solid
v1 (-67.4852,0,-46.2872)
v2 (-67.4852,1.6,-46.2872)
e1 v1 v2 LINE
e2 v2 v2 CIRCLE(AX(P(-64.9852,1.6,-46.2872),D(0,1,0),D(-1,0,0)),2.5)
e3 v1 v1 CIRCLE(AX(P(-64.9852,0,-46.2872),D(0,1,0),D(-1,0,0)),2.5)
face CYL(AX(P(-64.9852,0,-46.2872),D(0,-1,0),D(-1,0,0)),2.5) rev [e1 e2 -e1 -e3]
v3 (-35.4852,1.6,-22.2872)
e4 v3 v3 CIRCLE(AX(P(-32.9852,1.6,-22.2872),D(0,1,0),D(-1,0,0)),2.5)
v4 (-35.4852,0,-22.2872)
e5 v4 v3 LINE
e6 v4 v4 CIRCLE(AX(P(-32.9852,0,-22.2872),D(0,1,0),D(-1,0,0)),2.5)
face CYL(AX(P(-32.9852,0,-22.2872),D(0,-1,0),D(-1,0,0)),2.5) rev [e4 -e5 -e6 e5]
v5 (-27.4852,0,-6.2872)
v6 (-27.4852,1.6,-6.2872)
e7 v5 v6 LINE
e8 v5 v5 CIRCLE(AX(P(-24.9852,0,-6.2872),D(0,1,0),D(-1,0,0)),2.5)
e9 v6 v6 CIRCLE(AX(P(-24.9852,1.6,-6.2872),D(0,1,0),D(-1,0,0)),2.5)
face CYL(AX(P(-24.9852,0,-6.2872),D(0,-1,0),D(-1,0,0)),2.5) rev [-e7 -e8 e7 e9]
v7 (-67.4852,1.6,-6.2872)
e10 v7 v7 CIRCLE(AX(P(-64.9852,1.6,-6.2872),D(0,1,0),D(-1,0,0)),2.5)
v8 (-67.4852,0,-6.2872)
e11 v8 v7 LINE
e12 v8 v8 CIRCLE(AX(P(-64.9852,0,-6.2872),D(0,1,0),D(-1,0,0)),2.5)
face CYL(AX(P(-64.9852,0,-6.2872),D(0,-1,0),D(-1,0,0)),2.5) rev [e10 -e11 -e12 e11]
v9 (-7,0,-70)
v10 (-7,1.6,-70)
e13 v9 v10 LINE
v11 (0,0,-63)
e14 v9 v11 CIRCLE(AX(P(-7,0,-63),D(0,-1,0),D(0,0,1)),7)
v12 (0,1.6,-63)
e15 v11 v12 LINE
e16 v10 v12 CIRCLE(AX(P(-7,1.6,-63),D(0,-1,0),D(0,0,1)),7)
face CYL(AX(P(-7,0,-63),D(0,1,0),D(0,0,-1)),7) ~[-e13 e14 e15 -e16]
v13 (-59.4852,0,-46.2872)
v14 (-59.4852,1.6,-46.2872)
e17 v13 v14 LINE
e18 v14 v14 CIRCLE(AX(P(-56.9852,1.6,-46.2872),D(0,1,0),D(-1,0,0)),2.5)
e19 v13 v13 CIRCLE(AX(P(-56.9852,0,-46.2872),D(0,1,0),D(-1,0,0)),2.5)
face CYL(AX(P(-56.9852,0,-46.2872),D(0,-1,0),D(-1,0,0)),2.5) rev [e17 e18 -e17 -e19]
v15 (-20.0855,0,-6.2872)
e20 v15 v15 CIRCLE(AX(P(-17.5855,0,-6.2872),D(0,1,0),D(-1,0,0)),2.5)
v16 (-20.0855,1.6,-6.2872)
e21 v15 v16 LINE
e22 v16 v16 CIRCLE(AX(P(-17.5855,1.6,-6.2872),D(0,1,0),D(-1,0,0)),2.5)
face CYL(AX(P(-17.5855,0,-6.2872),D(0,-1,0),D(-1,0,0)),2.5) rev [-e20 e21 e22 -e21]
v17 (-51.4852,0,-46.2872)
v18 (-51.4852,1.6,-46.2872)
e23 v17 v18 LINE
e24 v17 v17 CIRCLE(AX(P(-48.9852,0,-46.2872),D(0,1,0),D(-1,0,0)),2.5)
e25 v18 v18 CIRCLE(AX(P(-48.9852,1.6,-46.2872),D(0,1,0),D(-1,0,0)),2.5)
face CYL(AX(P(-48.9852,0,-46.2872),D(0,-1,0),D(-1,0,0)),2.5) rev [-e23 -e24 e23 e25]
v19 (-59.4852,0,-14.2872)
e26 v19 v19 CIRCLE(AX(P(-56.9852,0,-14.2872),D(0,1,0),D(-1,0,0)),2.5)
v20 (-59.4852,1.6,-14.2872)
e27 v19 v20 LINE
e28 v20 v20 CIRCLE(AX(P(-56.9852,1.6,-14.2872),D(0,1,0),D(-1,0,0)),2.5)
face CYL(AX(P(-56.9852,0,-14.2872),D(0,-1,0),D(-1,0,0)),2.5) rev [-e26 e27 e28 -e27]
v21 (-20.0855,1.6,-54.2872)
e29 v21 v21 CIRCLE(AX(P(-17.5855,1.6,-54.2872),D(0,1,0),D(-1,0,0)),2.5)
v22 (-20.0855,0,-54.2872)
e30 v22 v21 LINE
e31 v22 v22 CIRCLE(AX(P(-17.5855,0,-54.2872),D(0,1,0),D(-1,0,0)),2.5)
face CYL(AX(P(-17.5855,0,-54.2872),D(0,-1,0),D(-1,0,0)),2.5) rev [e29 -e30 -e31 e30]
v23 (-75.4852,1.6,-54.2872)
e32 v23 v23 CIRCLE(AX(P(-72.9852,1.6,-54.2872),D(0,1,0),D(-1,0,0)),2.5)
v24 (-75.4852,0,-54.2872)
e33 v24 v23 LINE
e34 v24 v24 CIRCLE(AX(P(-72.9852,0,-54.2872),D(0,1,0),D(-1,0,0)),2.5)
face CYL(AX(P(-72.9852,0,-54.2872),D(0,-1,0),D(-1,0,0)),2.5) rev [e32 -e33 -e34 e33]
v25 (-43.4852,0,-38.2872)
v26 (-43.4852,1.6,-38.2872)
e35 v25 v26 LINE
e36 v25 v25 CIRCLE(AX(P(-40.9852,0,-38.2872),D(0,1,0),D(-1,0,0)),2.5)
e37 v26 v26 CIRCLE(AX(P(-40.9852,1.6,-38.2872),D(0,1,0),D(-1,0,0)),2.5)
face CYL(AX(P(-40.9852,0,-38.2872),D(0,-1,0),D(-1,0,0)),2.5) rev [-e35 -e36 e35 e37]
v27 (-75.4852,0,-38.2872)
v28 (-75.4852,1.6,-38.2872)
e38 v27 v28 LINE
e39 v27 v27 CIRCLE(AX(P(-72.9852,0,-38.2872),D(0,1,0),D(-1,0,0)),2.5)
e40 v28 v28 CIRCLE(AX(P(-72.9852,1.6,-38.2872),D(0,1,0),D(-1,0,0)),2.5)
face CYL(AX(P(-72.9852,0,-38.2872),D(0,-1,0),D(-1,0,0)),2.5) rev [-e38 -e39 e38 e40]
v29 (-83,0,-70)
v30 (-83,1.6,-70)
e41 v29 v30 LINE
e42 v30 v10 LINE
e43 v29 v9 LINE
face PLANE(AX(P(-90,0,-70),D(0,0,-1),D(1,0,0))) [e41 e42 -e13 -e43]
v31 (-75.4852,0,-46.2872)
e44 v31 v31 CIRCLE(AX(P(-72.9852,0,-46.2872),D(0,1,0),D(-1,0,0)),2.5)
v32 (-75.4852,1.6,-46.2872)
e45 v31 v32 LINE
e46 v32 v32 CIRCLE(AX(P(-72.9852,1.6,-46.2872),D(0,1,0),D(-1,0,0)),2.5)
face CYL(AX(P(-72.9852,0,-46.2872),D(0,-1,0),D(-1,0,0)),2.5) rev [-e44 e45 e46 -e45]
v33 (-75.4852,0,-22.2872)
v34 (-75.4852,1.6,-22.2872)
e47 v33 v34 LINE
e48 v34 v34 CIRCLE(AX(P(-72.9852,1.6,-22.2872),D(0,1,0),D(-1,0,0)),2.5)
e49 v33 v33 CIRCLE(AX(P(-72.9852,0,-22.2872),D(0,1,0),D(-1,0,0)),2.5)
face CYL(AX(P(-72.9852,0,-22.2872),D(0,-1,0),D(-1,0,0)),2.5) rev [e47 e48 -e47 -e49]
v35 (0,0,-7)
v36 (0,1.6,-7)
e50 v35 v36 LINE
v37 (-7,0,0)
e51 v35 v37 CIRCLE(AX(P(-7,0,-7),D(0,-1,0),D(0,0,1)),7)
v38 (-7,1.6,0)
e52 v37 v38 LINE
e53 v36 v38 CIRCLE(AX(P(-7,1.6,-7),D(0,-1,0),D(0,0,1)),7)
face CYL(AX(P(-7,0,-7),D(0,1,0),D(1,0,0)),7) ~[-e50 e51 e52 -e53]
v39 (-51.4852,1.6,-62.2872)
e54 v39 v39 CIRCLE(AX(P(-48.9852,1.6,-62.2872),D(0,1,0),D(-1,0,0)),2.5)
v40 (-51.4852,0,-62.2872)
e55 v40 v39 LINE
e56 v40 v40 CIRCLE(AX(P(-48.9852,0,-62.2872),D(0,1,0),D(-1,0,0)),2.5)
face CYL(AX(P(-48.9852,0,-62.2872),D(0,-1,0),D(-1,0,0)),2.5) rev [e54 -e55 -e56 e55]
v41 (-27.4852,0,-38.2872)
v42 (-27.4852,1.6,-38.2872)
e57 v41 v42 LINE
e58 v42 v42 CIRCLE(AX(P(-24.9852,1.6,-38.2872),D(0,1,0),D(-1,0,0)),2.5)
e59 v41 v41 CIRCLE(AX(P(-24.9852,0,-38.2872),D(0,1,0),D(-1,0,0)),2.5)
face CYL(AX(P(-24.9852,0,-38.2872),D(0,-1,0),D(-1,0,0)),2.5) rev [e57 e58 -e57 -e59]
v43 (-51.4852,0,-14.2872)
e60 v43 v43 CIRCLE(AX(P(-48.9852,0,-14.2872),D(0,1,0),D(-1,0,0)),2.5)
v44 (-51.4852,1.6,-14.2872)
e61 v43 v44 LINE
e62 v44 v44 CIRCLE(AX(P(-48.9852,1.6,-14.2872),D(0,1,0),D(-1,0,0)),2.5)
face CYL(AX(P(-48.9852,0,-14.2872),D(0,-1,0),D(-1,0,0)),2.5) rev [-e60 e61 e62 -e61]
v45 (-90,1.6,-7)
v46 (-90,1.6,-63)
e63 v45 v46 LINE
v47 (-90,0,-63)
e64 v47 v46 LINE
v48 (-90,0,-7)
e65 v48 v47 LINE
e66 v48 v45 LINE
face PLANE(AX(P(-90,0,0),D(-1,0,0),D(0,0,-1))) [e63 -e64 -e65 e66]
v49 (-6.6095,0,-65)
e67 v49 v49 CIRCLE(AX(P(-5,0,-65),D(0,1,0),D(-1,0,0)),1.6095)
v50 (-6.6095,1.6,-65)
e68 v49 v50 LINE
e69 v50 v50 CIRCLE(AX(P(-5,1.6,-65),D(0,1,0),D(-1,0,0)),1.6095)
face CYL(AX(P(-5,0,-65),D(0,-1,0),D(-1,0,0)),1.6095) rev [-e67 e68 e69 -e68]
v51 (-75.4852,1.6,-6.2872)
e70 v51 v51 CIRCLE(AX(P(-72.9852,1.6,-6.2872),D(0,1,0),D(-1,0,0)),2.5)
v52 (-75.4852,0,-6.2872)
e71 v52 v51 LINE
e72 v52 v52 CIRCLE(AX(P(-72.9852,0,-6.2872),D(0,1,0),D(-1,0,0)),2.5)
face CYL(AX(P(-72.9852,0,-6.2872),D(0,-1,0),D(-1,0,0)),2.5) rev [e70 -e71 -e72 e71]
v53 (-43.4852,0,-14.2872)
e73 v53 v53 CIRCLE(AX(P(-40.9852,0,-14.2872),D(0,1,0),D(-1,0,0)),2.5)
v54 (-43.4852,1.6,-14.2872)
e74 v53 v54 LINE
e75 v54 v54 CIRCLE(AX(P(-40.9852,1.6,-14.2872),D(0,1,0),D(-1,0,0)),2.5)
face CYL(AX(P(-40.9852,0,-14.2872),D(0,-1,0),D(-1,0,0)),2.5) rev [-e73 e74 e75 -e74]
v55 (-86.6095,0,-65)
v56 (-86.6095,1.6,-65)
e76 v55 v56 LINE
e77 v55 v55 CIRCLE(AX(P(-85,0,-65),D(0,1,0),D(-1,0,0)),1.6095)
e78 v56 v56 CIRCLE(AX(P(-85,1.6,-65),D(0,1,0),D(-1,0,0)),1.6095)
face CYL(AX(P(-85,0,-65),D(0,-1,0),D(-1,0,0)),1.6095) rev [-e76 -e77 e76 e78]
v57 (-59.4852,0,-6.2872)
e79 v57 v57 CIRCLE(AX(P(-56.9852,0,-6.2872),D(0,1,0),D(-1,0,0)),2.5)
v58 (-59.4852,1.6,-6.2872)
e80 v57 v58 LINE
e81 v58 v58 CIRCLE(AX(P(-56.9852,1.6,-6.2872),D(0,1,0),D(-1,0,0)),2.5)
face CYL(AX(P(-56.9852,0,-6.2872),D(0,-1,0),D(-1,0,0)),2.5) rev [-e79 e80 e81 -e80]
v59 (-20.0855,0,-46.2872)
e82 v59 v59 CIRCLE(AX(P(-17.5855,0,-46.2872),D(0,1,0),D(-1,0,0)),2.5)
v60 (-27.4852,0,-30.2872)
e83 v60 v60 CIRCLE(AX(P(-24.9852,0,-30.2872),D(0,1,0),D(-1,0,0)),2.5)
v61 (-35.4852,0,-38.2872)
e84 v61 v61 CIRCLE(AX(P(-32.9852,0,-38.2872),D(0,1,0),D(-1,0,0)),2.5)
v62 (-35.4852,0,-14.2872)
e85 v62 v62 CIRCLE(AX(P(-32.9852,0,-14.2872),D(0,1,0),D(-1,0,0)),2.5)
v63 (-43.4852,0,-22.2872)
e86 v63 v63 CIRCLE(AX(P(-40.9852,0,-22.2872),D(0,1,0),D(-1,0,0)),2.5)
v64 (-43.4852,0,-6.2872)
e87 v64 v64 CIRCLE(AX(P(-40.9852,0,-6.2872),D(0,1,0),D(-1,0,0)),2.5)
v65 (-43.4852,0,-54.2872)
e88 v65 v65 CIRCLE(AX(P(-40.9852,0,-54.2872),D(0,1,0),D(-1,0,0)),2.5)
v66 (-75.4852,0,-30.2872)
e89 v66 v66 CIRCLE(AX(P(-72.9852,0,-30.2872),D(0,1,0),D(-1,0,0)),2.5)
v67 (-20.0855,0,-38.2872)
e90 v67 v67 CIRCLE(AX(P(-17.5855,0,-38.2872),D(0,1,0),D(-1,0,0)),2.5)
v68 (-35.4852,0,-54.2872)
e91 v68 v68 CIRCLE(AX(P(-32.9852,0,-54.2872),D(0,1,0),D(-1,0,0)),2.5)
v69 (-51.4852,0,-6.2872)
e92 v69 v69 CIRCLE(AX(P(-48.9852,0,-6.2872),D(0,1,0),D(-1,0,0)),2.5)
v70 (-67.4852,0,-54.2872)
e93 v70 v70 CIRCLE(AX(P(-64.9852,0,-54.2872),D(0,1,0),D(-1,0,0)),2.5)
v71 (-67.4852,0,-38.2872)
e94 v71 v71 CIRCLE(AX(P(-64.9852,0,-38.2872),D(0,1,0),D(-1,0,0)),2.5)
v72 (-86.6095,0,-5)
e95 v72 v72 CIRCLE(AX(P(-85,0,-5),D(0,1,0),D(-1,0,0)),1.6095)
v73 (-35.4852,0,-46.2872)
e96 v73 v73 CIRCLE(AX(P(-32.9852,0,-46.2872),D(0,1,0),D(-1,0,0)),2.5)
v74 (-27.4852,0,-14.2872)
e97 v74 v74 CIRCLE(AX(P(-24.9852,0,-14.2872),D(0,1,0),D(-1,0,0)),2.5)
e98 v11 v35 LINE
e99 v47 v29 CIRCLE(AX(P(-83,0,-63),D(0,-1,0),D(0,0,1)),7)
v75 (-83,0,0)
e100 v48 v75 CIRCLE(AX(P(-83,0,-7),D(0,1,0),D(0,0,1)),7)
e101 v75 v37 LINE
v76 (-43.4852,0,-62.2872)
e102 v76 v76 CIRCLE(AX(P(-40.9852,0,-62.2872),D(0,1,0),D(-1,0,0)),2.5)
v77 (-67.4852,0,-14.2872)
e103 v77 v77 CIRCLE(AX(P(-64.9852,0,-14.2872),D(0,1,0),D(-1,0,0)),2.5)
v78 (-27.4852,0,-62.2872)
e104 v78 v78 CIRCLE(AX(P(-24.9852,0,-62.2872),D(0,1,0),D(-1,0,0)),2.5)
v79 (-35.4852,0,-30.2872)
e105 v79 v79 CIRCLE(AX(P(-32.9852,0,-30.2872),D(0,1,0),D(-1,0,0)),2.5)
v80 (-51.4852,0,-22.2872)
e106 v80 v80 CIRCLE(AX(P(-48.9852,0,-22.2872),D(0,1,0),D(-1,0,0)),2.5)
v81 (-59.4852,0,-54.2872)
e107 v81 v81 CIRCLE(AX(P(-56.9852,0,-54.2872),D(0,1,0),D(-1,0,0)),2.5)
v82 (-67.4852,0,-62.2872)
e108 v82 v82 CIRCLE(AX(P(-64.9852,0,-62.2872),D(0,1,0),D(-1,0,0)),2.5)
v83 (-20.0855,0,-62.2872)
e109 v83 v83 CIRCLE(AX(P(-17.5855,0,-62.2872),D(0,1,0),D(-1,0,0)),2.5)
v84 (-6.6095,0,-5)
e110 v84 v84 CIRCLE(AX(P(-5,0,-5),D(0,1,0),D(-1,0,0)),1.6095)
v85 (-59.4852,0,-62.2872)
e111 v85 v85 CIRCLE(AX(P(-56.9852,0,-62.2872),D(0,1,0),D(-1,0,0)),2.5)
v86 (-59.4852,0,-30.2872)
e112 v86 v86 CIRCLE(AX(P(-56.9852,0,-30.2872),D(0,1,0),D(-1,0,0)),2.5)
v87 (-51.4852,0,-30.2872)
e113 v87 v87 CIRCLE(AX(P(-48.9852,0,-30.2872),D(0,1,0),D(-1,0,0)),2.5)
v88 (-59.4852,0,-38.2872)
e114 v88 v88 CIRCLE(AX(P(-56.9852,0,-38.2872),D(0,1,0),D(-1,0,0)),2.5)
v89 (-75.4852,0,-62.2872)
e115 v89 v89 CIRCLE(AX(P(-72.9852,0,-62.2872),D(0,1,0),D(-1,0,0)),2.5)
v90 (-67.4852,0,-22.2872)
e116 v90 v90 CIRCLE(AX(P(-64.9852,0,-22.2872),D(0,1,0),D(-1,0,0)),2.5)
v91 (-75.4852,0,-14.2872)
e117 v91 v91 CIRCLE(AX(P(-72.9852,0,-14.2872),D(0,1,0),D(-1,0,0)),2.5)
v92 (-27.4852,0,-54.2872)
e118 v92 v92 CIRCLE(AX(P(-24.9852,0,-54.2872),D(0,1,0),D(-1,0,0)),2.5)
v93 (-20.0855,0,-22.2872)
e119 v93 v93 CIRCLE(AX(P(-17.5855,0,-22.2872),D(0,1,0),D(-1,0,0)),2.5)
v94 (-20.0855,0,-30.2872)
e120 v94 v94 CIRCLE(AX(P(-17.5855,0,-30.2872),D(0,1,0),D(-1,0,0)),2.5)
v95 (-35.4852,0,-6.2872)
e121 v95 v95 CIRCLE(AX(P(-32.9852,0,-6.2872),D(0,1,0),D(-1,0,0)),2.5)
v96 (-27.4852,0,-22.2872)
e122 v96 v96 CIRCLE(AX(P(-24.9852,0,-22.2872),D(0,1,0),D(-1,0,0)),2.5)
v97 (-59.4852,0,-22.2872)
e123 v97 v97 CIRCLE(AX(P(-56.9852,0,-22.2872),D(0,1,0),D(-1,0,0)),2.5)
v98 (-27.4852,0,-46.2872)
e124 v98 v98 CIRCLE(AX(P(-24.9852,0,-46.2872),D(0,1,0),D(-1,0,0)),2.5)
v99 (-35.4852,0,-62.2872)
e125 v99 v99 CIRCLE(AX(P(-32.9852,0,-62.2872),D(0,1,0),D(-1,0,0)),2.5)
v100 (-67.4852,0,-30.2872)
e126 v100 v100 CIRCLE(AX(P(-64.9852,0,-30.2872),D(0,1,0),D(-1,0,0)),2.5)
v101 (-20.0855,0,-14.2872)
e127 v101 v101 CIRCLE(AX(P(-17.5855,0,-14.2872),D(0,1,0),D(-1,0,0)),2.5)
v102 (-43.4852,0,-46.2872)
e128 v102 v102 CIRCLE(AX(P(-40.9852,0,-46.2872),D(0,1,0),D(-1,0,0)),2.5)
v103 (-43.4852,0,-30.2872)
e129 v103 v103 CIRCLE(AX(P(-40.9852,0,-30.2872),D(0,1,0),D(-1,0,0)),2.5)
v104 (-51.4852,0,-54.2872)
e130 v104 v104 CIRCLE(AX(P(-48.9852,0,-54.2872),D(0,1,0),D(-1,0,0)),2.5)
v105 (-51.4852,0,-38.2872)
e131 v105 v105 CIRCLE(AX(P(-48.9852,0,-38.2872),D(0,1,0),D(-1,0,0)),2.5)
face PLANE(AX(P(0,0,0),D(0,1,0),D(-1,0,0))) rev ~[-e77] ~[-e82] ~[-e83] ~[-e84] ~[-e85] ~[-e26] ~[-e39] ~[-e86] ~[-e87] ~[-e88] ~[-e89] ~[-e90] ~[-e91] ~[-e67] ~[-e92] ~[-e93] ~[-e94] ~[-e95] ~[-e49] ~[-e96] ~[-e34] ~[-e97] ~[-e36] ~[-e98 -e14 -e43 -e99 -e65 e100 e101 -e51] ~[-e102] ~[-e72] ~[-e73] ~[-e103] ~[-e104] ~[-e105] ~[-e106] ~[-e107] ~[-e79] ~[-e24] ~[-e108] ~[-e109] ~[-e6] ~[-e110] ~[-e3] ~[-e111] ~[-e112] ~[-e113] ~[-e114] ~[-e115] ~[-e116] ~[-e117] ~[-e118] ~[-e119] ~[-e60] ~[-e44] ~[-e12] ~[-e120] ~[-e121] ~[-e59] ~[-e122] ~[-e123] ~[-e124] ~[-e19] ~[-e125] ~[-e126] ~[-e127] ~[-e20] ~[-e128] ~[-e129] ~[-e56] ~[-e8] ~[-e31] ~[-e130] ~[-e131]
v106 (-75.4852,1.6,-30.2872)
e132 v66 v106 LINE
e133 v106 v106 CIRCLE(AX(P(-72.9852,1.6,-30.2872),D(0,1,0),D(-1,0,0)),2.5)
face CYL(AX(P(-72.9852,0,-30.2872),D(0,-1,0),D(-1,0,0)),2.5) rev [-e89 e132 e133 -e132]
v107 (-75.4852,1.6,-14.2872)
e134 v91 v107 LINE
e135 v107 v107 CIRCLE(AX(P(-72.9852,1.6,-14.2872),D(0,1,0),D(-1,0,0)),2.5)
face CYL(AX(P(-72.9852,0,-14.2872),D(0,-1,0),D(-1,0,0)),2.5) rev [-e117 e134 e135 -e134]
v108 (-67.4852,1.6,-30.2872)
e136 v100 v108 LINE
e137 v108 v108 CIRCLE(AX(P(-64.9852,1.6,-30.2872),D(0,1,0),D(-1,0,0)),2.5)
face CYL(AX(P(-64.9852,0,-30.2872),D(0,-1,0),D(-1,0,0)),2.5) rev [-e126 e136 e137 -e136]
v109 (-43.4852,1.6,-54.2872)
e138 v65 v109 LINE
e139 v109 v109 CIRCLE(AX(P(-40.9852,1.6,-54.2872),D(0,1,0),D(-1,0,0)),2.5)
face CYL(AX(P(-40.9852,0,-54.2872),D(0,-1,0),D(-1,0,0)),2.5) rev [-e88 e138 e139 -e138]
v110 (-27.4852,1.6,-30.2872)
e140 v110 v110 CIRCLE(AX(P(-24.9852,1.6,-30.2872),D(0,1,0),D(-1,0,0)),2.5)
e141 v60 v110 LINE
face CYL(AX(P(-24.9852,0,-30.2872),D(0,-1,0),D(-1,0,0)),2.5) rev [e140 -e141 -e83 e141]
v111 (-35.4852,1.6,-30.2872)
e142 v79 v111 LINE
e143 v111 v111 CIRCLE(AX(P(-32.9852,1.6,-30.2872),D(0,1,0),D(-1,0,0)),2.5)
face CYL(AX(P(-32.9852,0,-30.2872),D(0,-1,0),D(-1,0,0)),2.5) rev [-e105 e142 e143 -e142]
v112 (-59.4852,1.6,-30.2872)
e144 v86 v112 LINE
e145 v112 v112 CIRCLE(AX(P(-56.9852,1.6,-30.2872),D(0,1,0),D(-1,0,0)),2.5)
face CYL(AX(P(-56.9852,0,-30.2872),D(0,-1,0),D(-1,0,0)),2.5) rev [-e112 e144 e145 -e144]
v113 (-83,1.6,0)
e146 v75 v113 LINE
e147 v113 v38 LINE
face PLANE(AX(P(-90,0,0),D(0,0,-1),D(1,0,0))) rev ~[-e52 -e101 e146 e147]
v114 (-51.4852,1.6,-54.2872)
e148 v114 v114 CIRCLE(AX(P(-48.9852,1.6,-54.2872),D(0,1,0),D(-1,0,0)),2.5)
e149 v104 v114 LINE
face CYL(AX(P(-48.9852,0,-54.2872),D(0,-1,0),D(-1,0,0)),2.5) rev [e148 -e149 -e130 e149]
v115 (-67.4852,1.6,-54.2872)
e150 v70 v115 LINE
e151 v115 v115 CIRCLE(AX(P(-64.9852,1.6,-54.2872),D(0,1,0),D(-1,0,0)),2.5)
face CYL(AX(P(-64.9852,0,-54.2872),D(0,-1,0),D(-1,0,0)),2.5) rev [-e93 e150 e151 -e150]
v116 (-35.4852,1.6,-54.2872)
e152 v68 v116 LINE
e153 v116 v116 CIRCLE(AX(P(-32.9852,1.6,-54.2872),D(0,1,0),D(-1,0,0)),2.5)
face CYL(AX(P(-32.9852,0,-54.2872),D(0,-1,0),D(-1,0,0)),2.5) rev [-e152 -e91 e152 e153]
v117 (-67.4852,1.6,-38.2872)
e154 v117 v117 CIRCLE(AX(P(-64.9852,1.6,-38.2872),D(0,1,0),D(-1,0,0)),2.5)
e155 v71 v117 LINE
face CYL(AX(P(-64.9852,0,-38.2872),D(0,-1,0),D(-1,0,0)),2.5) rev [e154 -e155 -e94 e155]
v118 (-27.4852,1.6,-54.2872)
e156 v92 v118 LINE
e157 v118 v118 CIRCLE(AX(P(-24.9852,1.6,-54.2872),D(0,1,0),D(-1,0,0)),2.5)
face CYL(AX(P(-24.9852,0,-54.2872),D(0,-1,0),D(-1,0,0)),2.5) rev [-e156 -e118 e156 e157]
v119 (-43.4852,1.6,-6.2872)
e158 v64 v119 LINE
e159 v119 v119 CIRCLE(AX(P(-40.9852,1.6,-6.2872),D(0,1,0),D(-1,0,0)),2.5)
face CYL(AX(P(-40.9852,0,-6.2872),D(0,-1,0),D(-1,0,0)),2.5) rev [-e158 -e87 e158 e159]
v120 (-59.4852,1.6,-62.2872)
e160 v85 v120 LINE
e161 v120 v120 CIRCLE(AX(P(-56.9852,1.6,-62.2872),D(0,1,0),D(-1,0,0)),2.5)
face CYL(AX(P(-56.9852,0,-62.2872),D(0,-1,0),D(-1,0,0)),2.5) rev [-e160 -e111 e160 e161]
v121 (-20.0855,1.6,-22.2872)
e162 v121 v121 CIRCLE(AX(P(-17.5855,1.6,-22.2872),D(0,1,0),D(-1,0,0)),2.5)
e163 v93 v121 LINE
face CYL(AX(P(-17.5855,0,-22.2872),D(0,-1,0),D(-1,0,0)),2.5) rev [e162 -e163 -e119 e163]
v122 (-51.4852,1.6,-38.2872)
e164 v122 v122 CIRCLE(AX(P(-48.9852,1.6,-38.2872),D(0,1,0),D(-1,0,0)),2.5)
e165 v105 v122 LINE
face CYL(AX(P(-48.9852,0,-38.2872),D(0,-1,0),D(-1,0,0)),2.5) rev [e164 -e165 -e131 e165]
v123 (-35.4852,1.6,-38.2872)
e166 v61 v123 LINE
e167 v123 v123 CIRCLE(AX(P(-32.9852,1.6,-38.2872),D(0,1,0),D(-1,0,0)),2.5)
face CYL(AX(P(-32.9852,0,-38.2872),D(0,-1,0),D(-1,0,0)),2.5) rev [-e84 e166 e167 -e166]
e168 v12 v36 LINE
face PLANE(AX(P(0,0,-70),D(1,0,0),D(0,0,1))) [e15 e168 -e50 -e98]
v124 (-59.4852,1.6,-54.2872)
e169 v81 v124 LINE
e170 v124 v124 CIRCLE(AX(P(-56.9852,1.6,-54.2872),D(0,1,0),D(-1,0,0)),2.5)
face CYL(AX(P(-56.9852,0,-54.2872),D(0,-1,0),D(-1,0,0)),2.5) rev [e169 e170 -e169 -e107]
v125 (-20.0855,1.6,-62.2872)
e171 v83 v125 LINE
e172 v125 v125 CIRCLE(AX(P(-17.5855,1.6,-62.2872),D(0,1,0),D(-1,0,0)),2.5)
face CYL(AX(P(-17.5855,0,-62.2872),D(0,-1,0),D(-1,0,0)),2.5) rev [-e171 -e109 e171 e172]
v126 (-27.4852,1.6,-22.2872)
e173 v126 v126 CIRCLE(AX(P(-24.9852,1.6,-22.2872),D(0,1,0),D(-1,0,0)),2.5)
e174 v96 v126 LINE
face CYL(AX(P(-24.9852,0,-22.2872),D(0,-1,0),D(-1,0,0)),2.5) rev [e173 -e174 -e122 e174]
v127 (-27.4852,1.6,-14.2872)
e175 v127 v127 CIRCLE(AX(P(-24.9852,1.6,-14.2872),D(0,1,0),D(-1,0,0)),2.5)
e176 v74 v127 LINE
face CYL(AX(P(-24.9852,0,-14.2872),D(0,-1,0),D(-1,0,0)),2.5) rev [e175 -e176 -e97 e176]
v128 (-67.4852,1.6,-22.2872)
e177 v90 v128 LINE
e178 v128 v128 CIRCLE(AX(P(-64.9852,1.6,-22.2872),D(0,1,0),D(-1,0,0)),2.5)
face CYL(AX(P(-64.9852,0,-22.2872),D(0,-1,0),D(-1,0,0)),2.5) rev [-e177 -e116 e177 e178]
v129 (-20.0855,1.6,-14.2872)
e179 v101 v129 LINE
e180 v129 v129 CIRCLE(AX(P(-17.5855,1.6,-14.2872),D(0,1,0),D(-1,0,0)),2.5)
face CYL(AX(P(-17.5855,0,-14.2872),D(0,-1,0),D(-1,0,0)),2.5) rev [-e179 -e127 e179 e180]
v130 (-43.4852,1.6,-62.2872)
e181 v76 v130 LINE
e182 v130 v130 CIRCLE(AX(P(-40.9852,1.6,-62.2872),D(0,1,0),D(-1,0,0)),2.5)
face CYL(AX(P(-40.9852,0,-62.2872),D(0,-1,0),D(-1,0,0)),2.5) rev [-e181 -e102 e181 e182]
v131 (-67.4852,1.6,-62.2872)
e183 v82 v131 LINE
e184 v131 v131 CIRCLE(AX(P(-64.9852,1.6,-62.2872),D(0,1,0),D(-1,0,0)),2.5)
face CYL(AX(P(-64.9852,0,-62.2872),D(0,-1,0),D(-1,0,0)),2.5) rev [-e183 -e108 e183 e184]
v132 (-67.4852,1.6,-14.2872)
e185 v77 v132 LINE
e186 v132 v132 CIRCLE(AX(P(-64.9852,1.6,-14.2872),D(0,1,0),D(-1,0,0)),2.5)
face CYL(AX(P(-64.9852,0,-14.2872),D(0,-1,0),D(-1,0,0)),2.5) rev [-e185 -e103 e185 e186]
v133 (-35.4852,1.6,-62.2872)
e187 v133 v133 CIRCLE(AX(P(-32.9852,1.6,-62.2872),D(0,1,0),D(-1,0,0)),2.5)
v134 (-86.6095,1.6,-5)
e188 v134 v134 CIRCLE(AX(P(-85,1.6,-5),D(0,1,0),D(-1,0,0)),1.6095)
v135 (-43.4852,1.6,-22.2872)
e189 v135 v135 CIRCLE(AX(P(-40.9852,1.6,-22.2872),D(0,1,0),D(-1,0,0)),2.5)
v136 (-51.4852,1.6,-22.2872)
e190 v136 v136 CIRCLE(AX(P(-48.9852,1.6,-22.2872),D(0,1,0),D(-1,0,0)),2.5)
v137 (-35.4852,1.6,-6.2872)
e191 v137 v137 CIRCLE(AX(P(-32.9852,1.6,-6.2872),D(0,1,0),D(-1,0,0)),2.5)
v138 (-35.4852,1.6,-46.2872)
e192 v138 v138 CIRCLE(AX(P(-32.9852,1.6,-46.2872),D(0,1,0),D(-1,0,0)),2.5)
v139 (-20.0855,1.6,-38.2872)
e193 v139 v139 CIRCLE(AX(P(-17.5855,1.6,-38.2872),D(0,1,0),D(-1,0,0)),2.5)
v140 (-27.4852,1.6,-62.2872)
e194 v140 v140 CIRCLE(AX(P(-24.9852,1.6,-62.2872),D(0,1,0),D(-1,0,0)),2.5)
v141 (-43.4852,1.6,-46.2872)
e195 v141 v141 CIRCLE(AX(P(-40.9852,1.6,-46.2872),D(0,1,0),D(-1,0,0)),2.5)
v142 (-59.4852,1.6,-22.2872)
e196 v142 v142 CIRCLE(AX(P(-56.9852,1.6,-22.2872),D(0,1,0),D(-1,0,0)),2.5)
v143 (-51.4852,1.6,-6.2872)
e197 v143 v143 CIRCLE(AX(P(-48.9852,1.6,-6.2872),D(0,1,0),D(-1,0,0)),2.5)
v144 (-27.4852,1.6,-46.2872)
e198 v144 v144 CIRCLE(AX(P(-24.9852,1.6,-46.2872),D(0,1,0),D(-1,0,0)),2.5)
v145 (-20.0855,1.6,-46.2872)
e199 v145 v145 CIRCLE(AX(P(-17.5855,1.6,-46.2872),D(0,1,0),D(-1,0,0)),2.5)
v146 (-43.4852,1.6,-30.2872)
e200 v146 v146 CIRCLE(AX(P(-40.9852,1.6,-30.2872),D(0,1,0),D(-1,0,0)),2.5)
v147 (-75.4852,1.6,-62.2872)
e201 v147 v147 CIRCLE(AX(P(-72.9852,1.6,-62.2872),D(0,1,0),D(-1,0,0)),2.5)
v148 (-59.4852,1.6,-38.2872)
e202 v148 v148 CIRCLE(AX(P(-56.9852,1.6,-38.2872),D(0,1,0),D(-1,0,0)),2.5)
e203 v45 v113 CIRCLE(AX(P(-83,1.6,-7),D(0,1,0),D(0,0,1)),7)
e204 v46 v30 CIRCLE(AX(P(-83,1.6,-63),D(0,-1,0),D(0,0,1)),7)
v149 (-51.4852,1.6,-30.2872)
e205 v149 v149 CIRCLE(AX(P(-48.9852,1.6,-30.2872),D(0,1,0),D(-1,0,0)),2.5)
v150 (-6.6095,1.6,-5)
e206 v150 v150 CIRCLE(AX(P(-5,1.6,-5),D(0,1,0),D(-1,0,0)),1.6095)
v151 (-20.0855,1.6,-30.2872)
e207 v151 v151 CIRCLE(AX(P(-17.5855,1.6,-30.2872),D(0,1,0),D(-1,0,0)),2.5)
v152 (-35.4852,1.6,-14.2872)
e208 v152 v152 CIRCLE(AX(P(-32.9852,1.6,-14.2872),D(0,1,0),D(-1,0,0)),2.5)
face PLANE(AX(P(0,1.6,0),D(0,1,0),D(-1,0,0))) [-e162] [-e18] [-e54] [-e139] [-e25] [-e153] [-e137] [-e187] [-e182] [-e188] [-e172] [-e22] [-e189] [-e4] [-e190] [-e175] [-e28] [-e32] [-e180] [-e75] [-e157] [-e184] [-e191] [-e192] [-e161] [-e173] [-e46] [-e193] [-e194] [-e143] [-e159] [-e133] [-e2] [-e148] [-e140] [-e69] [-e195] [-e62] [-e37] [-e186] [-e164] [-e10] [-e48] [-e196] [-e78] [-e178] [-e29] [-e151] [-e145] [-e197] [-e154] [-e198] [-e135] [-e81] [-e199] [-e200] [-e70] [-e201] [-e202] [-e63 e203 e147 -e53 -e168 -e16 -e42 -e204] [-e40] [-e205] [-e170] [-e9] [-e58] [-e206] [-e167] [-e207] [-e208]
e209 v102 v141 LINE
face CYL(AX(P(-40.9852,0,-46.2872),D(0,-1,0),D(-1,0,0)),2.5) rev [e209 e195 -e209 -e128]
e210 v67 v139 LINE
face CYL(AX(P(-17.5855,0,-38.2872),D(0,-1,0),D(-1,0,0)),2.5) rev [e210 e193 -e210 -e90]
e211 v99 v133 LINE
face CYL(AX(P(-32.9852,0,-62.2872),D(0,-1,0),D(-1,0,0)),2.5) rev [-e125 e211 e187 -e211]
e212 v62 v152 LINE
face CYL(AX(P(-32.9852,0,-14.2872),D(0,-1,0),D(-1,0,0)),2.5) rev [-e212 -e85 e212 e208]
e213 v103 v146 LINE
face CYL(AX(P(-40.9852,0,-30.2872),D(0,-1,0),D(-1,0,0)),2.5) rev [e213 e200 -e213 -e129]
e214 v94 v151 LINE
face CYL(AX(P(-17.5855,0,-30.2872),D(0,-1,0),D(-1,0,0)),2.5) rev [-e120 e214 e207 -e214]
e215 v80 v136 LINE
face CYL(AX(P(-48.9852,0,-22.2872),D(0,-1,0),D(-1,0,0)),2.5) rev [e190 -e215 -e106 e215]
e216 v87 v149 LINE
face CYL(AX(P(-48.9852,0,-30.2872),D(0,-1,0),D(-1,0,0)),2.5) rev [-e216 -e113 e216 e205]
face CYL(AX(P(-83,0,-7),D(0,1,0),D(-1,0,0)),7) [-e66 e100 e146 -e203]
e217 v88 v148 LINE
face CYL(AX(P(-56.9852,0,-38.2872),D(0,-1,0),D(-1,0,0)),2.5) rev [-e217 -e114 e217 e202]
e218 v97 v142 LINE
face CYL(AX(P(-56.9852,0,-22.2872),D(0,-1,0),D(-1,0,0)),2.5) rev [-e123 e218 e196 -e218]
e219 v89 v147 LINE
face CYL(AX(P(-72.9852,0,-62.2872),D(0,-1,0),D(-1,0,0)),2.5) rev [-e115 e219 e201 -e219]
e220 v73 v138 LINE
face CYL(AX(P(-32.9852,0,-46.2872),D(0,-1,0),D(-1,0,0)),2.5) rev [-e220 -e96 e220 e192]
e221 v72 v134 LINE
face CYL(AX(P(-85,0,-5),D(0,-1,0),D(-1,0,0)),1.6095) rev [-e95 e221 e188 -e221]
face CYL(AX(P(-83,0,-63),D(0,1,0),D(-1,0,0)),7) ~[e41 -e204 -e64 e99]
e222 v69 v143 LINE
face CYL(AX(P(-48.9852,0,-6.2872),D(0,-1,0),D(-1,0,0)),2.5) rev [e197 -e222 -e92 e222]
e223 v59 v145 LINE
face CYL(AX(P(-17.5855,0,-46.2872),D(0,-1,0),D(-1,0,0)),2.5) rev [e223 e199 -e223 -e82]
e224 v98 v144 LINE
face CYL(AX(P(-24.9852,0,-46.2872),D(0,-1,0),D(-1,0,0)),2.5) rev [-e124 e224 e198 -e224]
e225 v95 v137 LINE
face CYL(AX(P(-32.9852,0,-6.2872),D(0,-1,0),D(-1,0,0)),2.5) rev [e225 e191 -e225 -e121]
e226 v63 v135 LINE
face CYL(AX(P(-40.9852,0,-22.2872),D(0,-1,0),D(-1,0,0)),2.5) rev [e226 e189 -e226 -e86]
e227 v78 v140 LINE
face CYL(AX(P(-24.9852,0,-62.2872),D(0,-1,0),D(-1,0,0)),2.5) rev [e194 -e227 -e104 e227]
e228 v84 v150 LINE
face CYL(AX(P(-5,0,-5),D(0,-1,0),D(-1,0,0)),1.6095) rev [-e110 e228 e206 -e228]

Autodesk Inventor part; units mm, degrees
ref_plane "YZ Plane" through (0, 0, 0) normal (1, 0, 0) x (0, 1, 0)
ref_plane "XZ Plane" through (0, 0, 0) normal (0, 1, 0) x (-1, 0, 0)
ref_plane "XY Plane" through (0, 0, 0) normal (0, 0, 1) x (1, 0, 0)
sketch "Sketch1" plane through (0, 0, 0) normal (0, 1, 0) x (-1, 0, 0)
  line L0 (90, 0) -> (90, -70)
  line L1 (90, -70) -> (0, -70)
  line L2 (0, -70) -> (0, 0)
  line L3 (90, 0) -> (0, 0)
  circle A0 centre (85, -5) radius 1.6095
  circle A1 centre (85, -65) radius 1.6095
  circle A2 centre (72.9852, -6.2872) radius 2.5
  circle A3 centre (72.9852, -14.2872) radius 2.5
  circle A4 centre (72.9852, -22.2872) radius 2.5
  circle A5 centre (72.9852, -30.2872) radius 2.5
  circle A6 centre (72.9852, -38.2872) radius 2.5
  circle A7 centre (72.9852, -46.2872) radius 2.5
  circle A8 centre (72.9852, -54.2872) radius 2.5
  circle A9 centre (72.9852, -62.2872) radius 2.5
  circle A10 centre (64.9852, -6.2872) radius 2.5
  circle A11 centre (64.9852, -14.2872) radius 2.5
  circle A12 centre (64.9852, -22.2872) radius 2.5
  circle A13 centre (64.9852, -30.2872) radius 2.5
  circle A14 centre (64.9852, -38.2872) radius 2.5
  circle A15 centre (64.9852, -46.2872) radius 2.5
  circle A16 centre (64.9852, -54.2872) radius 2.5
  circle A17 centre (64.9852, -62.2872) radius 2.5
  circle A18 centre (56.9852, -6.2872) radius 2.5
  circle A19 centre (56.9852, -14.2872) radius 2.5
  circle A20 centre (56.9852, -22.2872) radius 2.5
  circle A21 centre (56.9852, -30.2872) radius 2.5
  circle A22 centre (56.9852, -38.2872) radius 2.5
  circle A23 centre (56.9852, -46.2872) radius 2.5
  circle A24 centre (56.9852, -54.2872) radius 2.5
  circle A25 centre (56.9852, -62.2872) radius 2.5
  circle A26 centre (48.9852, -6.2872) radius 2.5
  circle A27 centre (48.9852, -14.2872) radius 2.5
  circle A28 centre (48.9852, -22.2872) radius 2.5
  circle A29 centre (48.9852, -30.2872) radius 2.5
  circle A30 centre (48.9852, -38.2872) radius 2.5
  circle A31 centre (48.9852, -46.2872) radius 2.5
  circle A32 centre (48.9852, -54.2872) radius 2.5
  circle A33 centre (48.9852, -62.2872) radius 2.5
  circle A34 centre (40.9852, -6.2872) radius 2.5
  circle A35 centre (40.9852, -14.2872) radius 2.5
  circle A36 centre (40.9852, -22.2872) radius 2.5
  circle A37 centre (40.9852, -30.2872) radius 2.5
  circle A38 centre (40.9852, -38.2872) radius 2.5
  circle A39 centre (40.9852, -46.2872) radius 2.5
  circle A40 centre (40.9852, -54.2872) radius 2.5
  circle A41 centre (40.9852, -62.2872) radius 2.5
  circle A42 centre (32.9852, -6.2872) radius 2.5
  circle A43 centre (32.9852, -14.2872) radius 2.5
  circle A44 centre (32.9852, -22.2872) radius 2.5
  circle A45 centre (32.9852, -30.2872) radius 2.5
  circle A46 centre (32.9852, -38.2872) radius 2.5
  circle A47 centre (32.9852, -46.2872) radius 2.5
  circle A48 centre (32.9852, -54.2872) radius 2.5
  circle A49 centre (32.9852, -62.2872) radius 2.5
  circle A50 centre (24.9852, -6.2872) radius 2.5
  circle A51 centre (24.9852, -14.2872) radius 2.5
  circle A52 centre (24.9852, -22.2872) radius 2.5
  circle A53 centre (24.9852, -30.2872) radius 2.5
  circle A54 centre (24.9852, -38.2872) radius 2.5
  circle A55 centre (24.9852, -46.2872) radius 2.5
  circle A56 centre (24.9852, -54.2872) radius 2.5
  circle A57 centre (24.9852, -62.2872) radius 2.5
  circle A58 centre (17.5855, -6.2872) radius 2.5
  circle A59 centre (17.5855, -14.2872) radius 2.5
  circle A60 centre (17.5855, -22.2872) radius 2.5
  circle A61 centre (17.5855, -30.2872) radius 2.5
  circle A62 centre (17.5855, -38.2872) radius 2.5
  circle A63 centre (17.5855, -46.2872) radius 2.5
  circle A64 centre (17.5855, -54.2872) radius 2.5
  circle A65 centre (17.5855, -62.2872) radius 2.5
  circle A66 centre (5, -5) radius 1.6095
  circle A67 centre (5, -65) radius 1.6095
  dimension "d27" = 60
  dimension "d28" = 5
  dimension "d29" = 5
  dimension "d30" = 55.3996
  dimension "d33" = 56
  dimension "d34" = 5
  dimension "d35" = 8
  dimension "d36" = 3
  dimension "d37" = 3
  dimension "d38" = 90
  dimension "d39" = 3.219
extrude "Extrusion1" add sketch "Sketch1" along normal blind 1.6
fillet "Fillet1" radius 7 4 edges at (0, 0.8, 0) (-90, 0.8, 0) (0, 0.8, -70) (-90, 0.8, -70)
properties part number "placa leds" material "PPS Plastic"
